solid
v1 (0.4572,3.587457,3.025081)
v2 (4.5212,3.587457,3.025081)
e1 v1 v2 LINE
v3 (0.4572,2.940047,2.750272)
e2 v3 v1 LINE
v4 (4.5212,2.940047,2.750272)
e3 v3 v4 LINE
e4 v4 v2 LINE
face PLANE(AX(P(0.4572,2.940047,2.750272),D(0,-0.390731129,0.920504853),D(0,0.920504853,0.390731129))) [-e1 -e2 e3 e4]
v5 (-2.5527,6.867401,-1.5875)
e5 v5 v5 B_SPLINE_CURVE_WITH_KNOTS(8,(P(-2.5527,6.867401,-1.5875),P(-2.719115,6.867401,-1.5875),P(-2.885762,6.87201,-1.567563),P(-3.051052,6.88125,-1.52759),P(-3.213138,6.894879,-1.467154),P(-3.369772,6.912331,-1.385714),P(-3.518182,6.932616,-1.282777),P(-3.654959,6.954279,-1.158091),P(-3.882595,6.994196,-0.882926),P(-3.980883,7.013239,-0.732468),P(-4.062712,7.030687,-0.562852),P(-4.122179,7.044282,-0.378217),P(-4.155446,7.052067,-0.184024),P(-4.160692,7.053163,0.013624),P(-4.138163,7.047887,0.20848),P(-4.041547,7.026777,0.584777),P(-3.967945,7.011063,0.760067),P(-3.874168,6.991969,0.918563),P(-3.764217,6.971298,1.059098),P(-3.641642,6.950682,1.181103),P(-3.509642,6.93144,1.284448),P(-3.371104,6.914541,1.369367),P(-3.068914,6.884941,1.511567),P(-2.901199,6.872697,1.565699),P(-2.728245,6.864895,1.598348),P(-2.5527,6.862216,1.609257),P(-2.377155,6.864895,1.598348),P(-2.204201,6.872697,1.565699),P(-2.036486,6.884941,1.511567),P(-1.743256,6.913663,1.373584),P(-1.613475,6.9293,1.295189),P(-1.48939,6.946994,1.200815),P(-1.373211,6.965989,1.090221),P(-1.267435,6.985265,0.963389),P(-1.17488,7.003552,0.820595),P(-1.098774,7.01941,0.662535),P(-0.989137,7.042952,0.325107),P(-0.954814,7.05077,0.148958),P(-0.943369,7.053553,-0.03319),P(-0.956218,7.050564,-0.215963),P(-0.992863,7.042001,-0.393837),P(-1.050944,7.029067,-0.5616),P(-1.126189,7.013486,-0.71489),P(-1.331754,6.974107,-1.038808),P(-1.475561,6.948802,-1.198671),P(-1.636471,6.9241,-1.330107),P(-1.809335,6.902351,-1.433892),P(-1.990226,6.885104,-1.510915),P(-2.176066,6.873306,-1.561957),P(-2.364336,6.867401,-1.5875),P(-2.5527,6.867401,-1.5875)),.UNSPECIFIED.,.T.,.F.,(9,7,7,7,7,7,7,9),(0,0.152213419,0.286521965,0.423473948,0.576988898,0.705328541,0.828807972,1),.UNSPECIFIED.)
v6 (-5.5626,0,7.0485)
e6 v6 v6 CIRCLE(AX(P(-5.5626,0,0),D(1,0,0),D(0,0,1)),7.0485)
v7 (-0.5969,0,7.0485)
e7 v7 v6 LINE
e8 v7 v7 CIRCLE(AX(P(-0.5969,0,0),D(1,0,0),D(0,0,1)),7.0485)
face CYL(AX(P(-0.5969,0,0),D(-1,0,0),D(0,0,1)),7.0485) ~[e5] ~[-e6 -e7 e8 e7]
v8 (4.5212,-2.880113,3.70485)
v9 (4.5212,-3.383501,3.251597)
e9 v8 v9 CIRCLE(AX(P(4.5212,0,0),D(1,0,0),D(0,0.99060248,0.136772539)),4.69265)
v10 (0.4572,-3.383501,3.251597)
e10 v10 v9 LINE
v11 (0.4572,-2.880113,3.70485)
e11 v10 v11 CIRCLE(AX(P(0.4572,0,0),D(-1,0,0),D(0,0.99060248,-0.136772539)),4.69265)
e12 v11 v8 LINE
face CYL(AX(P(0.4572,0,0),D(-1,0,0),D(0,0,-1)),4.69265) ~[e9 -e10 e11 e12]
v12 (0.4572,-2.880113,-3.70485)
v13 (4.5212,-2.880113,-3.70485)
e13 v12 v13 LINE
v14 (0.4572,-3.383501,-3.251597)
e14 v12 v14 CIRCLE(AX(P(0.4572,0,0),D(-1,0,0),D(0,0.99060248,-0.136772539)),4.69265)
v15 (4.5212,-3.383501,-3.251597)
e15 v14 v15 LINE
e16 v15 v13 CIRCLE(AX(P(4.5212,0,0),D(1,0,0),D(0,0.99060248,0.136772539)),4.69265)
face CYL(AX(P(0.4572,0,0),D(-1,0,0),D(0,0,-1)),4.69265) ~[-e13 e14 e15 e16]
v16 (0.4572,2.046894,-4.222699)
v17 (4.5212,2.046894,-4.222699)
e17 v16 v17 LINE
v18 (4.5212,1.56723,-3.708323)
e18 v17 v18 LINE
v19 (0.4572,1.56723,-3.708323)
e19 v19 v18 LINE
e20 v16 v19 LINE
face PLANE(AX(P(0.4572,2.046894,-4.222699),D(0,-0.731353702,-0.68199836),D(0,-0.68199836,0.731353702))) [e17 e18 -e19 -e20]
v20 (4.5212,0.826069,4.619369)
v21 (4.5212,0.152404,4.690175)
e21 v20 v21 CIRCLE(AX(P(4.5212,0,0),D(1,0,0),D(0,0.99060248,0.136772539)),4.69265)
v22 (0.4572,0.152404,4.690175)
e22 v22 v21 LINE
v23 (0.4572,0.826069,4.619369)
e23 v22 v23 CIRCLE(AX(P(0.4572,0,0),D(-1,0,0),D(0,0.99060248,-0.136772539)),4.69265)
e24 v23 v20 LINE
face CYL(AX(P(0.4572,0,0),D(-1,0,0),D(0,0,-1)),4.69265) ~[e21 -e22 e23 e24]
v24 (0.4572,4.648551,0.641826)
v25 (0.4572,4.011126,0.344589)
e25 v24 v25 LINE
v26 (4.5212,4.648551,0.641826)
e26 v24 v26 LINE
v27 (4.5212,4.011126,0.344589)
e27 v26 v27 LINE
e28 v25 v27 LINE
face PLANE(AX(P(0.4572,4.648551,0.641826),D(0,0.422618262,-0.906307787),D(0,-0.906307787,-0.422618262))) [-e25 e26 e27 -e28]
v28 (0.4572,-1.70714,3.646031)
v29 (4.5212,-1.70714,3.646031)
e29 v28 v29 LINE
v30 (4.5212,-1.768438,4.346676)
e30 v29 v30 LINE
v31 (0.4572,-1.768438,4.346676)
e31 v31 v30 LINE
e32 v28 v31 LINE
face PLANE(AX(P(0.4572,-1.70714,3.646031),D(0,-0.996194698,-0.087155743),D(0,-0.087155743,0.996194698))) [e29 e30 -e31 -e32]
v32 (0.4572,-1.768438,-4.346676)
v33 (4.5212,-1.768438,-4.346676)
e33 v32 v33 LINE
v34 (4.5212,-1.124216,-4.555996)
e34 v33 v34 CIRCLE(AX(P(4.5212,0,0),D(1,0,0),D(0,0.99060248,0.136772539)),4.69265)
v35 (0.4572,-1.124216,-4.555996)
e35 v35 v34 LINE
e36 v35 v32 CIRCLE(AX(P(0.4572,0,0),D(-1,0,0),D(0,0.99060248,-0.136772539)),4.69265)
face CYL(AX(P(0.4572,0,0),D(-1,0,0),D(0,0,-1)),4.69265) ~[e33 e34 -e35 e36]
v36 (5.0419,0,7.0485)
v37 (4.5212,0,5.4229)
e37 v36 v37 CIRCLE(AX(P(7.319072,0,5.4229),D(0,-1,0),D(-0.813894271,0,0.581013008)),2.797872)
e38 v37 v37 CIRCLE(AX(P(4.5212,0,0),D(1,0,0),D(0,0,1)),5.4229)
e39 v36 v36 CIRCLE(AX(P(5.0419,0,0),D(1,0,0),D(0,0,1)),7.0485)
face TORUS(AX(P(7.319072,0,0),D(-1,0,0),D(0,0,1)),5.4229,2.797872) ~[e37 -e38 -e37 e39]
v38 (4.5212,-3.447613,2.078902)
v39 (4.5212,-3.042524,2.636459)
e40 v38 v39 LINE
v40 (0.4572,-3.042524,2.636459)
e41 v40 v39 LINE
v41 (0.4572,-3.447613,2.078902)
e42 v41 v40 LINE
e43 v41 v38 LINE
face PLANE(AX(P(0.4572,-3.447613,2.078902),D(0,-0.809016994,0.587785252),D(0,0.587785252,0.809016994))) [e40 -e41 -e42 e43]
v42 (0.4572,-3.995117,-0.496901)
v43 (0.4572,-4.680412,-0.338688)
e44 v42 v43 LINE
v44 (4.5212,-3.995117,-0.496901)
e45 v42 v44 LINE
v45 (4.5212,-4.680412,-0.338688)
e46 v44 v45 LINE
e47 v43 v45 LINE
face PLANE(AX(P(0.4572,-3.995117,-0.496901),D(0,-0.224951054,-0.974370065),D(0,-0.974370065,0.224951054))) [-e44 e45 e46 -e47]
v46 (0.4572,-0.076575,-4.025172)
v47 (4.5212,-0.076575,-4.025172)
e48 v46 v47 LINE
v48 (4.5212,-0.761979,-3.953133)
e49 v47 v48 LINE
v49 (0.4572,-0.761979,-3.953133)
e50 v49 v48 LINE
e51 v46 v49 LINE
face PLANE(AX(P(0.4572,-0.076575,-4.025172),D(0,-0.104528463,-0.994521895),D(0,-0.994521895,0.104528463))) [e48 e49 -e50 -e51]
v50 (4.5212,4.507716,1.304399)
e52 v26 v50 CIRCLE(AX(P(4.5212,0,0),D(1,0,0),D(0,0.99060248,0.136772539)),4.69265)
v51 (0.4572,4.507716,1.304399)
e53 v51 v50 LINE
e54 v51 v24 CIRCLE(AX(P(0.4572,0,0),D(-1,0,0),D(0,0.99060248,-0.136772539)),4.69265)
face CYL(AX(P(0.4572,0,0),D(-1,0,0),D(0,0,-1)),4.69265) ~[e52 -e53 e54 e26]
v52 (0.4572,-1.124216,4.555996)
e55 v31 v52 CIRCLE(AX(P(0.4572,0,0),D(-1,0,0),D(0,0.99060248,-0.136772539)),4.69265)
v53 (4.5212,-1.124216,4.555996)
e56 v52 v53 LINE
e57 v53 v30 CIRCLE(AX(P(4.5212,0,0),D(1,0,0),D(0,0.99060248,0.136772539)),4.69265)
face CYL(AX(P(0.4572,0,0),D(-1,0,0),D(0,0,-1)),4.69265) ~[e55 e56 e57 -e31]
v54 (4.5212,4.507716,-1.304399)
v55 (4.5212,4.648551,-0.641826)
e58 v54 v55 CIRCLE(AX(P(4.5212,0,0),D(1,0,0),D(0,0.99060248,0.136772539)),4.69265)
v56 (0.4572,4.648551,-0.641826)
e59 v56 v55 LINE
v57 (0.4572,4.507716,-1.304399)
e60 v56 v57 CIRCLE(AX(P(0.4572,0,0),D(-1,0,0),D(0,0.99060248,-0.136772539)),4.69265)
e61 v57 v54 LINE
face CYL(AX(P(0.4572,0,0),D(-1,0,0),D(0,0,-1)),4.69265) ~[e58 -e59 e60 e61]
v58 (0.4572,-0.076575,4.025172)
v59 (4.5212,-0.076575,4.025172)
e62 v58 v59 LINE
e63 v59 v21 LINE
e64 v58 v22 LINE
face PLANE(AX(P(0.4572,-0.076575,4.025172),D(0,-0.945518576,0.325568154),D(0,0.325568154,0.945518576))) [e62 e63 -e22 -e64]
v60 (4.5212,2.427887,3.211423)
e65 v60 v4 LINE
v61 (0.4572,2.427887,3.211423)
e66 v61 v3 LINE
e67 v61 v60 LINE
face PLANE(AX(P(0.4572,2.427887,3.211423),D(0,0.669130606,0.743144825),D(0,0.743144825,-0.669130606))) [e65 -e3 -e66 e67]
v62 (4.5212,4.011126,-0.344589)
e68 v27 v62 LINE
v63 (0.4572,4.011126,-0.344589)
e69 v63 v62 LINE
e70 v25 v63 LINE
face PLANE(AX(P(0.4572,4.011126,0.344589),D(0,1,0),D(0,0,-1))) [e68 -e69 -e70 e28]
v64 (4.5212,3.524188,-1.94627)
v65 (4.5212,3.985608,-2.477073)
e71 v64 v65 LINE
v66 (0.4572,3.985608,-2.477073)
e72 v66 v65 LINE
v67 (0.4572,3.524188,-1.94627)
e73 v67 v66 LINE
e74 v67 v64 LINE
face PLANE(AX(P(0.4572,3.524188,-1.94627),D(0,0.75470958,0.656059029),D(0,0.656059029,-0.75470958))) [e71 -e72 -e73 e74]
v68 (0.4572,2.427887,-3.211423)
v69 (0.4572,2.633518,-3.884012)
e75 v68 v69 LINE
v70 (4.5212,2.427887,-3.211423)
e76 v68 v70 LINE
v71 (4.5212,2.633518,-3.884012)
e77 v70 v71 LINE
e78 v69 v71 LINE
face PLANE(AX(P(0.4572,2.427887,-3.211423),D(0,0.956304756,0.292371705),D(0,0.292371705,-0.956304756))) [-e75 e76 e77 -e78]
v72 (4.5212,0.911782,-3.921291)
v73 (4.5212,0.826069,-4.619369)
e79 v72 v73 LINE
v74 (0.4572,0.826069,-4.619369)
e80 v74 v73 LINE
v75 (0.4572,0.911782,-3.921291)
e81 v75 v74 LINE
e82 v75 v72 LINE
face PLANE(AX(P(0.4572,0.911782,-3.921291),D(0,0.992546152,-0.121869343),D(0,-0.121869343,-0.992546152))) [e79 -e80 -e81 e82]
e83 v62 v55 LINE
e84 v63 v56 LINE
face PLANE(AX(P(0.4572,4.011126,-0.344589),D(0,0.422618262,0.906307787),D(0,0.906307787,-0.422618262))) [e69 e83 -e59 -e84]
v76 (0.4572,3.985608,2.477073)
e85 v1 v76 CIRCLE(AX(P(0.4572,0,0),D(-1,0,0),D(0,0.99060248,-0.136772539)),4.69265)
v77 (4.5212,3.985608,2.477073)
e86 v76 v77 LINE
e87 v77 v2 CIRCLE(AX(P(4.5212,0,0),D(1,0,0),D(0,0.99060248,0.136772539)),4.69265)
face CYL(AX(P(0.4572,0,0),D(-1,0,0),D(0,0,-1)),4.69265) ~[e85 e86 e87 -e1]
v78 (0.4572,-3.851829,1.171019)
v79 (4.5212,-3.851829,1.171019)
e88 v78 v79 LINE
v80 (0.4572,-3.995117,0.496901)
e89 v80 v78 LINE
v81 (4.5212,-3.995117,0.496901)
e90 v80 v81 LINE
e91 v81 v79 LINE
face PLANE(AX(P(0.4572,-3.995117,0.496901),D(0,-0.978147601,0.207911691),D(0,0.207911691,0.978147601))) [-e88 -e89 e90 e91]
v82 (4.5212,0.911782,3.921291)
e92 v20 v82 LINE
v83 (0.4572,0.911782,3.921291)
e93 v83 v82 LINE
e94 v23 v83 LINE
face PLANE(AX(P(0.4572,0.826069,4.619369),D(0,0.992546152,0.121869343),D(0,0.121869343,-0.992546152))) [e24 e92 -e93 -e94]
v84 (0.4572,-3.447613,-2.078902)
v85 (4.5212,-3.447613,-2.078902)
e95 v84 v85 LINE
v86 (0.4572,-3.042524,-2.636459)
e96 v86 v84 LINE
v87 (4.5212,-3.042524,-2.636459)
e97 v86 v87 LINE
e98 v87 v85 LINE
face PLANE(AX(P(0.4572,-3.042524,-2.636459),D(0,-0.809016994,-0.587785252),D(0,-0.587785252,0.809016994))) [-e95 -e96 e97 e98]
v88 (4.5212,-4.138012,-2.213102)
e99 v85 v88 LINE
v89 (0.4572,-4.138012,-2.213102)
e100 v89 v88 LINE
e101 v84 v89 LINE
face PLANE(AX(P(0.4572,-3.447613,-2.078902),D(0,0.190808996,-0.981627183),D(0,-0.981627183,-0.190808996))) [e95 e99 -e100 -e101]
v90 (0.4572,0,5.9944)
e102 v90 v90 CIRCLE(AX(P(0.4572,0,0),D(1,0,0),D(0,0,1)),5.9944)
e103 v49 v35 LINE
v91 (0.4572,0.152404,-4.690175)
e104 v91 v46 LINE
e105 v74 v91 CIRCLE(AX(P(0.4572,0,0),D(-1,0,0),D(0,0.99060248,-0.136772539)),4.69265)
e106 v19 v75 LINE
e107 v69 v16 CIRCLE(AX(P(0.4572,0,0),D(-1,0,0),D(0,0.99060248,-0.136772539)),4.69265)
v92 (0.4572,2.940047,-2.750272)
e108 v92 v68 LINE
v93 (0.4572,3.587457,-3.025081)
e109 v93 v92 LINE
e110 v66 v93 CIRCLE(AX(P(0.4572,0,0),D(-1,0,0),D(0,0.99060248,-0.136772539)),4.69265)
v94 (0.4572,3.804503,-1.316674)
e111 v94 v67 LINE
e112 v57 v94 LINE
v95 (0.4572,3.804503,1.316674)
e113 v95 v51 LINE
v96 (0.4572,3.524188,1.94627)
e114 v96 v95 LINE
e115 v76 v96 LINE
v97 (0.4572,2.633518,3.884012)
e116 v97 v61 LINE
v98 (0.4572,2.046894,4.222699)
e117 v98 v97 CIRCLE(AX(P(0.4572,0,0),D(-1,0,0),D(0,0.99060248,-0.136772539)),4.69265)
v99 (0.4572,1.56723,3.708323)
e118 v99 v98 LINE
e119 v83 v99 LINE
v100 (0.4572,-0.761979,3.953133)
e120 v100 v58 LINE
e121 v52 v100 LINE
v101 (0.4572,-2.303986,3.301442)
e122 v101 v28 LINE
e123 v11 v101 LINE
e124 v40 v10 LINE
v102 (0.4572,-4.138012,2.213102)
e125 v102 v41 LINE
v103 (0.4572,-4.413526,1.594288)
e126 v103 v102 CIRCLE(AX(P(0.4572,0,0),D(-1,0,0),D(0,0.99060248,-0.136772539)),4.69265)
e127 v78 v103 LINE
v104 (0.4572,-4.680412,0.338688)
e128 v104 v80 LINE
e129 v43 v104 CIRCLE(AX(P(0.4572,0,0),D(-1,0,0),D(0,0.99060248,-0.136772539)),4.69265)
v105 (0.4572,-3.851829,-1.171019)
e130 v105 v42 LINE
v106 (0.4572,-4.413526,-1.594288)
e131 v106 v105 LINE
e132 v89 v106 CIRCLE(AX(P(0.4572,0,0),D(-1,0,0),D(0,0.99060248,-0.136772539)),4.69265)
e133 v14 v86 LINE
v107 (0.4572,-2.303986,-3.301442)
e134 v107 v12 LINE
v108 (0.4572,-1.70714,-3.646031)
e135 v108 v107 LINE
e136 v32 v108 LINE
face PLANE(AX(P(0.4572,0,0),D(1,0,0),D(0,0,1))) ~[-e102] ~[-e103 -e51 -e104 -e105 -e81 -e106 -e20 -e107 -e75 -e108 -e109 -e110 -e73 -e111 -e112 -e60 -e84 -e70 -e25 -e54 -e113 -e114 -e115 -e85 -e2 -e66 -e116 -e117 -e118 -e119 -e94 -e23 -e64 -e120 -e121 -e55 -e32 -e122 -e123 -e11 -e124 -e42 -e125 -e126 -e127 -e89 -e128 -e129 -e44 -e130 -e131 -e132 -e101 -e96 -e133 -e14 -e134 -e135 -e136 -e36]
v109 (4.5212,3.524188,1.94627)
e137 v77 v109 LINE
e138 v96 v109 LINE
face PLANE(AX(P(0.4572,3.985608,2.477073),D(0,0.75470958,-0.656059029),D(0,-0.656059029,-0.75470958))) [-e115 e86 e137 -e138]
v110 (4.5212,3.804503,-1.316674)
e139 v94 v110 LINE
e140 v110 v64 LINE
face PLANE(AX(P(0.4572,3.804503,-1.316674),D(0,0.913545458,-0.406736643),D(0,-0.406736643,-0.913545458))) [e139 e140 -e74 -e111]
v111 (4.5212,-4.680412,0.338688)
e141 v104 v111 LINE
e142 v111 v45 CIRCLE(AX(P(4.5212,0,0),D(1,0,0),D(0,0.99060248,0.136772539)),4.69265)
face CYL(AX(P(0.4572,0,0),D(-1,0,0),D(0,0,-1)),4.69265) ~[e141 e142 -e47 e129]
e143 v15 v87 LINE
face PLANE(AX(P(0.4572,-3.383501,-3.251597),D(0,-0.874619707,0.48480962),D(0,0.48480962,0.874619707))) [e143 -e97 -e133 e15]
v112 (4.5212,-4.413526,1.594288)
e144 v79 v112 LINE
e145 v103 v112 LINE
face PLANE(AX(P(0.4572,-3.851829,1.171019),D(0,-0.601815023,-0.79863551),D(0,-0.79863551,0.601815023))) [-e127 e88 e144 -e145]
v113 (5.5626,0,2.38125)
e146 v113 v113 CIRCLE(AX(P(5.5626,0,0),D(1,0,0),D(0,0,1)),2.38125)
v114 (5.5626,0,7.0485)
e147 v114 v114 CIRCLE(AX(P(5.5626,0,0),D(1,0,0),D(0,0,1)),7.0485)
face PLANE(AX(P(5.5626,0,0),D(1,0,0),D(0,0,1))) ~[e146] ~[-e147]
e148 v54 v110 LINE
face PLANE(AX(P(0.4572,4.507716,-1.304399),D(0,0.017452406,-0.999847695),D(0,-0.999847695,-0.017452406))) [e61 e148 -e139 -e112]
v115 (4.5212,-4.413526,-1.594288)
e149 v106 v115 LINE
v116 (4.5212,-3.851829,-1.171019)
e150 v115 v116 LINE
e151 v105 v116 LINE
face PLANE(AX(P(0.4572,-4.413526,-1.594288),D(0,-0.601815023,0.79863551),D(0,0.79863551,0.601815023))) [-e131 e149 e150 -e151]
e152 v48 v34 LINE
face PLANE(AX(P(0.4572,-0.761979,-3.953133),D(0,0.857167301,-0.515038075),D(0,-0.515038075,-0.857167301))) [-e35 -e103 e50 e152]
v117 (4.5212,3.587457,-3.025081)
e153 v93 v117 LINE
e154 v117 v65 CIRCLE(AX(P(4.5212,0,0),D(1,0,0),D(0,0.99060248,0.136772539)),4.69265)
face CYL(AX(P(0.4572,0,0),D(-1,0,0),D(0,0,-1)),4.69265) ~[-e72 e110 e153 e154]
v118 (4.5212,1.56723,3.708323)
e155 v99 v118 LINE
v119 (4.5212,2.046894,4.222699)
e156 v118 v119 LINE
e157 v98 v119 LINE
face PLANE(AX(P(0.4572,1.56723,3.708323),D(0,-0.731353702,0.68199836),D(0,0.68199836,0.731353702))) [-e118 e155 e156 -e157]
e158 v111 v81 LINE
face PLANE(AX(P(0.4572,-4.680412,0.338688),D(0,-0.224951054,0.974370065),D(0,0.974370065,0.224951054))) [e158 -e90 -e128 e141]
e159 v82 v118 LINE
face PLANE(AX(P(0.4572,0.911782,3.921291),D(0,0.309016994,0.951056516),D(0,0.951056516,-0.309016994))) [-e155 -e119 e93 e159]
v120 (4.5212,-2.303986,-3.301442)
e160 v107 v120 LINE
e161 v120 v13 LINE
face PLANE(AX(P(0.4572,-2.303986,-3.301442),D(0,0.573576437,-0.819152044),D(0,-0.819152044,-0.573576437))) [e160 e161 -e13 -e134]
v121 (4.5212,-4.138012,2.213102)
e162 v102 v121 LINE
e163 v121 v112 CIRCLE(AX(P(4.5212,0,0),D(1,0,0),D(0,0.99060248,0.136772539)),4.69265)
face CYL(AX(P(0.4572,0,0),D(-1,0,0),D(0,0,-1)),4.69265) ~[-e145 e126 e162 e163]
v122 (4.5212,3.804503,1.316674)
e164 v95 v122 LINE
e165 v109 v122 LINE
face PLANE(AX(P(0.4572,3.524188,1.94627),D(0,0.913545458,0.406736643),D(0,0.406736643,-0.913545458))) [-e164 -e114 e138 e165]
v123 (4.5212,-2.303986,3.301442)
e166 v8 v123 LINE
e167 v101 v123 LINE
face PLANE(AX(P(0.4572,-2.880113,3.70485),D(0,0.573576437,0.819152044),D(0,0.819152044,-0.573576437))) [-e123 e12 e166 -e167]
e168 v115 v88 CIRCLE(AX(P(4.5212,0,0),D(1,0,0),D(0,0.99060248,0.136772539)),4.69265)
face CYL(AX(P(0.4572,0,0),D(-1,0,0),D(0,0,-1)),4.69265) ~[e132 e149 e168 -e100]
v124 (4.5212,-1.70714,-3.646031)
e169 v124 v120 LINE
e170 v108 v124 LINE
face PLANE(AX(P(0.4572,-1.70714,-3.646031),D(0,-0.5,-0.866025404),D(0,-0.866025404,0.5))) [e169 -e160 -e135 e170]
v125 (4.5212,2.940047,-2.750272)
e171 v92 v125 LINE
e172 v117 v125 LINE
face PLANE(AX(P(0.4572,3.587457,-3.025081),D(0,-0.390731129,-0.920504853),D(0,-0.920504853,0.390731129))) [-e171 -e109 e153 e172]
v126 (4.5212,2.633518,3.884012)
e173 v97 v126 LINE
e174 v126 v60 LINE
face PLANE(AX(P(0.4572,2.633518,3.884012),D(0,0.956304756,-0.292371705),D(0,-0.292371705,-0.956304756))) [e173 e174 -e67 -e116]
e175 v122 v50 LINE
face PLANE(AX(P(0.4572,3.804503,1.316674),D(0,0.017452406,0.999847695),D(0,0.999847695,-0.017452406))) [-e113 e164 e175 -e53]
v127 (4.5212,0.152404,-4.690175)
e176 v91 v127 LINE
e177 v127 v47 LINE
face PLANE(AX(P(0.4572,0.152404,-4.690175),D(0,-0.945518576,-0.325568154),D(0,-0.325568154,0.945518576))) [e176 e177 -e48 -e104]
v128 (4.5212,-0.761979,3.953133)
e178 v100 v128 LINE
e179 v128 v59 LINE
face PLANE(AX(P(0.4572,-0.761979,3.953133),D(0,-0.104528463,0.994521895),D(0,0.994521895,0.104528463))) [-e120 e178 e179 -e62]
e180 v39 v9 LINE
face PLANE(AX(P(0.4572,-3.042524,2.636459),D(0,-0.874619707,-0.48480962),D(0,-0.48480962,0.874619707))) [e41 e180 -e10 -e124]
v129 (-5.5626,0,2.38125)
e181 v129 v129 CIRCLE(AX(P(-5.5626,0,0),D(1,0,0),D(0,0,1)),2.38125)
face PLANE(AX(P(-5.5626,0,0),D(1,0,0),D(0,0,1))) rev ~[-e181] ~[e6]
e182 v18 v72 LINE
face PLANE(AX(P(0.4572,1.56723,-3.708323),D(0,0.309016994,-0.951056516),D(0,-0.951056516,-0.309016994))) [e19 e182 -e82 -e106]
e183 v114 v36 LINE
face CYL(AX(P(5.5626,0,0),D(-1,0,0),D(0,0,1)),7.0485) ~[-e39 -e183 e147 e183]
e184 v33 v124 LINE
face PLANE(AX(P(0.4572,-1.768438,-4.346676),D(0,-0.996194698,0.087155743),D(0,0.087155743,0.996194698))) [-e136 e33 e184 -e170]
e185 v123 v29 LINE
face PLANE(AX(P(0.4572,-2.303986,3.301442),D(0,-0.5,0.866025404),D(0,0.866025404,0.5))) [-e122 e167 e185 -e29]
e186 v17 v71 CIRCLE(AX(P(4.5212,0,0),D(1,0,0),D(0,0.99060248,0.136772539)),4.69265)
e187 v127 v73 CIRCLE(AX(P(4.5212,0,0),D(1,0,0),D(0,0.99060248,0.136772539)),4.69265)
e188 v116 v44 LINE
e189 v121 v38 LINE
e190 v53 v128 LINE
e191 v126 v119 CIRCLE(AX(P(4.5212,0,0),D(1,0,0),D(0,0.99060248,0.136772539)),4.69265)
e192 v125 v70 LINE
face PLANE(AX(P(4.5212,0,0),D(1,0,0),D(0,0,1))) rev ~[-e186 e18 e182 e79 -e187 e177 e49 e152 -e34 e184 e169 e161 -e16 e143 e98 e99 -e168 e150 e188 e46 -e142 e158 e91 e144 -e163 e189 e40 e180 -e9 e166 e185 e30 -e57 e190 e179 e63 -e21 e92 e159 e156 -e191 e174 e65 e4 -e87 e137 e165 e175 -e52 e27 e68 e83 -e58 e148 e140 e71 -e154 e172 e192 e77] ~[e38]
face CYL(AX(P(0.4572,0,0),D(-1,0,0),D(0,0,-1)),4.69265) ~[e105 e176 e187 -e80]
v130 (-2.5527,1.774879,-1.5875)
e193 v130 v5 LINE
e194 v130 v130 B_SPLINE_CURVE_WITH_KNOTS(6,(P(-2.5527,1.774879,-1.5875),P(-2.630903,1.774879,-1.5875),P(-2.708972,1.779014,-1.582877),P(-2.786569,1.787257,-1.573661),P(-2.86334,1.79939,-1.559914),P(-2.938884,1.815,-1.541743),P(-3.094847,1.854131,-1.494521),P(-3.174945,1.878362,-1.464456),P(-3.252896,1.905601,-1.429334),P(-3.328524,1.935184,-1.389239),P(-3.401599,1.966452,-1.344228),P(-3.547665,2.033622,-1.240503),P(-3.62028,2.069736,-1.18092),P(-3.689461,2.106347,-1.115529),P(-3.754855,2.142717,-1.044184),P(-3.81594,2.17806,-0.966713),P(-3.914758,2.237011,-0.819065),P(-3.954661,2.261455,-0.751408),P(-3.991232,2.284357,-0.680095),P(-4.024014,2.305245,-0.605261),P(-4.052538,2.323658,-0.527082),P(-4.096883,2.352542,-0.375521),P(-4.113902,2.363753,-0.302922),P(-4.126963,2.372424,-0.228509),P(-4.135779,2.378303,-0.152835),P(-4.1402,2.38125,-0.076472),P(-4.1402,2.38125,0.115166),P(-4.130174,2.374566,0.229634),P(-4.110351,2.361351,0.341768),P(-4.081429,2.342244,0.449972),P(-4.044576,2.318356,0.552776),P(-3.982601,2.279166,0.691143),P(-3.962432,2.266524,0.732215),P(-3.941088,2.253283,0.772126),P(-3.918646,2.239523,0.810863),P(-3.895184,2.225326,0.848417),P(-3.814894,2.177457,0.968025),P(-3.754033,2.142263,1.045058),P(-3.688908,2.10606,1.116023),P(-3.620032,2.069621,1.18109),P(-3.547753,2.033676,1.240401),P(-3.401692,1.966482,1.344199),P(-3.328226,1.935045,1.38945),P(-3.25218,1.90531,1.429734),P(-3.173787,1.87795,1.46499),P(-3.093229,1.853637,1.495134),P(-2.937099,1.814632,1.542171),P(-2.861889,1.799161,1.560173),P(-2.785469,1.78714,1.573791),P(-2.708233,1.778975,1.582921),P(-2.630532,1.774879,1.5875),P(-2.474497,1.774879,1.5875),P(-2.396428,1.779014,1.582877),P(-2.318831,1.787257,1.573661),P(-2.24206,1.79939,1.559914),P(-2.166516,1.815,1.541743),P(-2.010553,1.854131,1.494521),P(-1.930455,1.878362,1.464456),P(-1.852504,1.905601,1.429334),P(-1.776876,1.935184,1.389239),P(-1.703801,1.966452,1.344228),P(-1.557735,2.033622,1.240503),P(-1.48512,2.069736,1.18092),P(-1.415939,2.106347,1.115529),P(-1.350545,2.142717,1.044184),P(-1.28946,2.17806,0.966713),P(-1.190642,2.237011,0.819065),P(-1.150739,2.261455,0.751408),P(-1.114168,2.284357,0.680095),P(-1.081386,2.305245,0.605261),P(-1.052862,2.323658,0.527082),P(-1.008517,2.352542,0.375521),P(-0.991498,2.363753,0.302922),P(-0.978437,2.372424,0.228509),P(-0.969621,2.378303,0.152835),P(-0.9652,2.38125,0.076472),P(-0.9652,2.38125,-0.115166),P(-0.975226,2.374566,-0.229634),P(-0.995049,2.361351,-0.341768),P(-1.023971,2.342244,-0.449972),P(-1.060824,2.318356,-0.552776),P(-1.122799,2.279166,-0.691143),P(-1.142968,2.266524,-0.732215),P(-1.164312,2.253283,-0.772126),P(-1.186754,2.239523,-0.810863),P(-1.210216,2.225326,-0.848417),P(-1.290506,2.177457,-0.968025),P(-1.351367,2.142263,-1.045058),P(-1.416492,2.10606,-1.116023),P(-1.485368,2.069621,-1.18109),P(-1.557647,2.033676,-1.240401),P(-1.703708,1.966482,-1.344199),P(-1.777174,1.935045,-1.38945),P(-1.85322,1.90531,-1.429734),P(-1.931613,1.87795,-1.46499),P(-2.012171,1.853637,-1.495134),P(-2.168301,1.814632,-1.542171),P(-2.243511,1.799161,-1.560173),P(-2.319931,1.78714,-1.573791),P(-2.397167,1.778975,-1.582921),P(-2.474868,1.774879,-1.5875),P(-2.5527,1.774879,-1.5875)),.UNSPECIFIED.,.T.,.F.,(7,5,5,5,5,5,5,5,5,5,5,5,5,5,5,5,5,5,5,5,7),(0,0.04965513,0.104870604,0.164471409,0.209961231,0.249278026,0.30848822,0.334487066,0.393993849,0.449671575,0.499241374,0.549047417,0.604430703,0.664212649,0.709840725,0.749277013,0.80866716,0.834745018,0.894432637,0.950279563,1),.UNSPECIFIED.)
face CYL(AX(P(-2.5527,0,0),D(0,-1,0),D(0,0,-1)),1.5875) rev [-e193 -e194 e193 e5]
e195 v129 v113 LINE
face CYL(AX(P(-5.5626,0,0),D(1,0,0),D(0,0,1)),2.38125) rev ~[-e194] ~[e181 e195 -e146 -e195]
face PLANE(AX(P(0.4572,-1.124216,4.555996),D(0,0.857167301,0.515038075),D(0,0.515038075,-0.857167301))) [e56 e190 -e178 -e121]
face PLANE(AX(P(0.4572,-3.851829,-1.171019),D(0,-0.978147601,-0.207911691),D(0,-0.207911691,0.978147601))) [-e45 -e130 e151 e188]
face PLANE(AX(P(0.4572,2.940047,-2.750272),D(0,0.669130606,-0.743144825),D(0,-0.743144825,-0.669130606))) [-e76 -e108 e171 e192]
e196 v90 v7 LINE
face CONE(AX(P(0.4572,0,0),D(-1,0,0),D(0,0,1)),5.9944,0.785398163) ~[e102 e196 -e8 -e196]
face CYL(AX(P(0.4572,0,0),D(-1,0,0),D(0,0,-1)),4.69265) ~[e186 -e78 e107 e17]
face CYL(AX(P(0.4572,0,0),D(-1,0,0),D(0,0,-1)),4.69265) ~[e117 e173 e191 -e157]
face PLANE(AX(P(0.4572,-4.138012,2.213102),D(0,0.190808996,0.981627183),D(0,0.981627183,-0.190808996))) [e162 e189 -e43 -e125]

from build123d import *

# Parameters (mm, degrees)
SKETCH4_R          = 4.8514
SKETCH4_R_2        = 4.69265
CUT_EXTRUDE2_DEPTH = 4.064
CUT_EXTRUDE1_DEPTH = 4.064
CIRPATTERN1_COUNT  = 15
SKETCH6_R          = 1.5875
CUT_EXTRUDE3_DEPTH = 12.415131329


with BuildPart() as part:
    # Sketch1 → Revolve1 (revolve)
    with BuildSketch(Plane.XY, mode=Mode.PRIVATE) as revolve1_sk:
        with BuildLine():
            Line((-5.5626, 2.38125), (5.5626, 2.38125))
            Line((5.5626, 2.38125), (5.5626, 7.0485))
            Line((5.5626, 7.0485), (5.0419, 7.0485))
            ThreePointArc((5.0419, 7.0485), (4.654552953, 6.276378742), (4.5212, 5.4229))
            Line((4.5212, 5.4229), (4.5212, 4.8514))
            Line((4.5212, 4.8514), (0.4572, 4.8514))
            Line((0.4572, 4.8514), (0.4572, 5.9944))
            Line((0.4572, 5.9944), (-0.5969, 7.0485))
            Line((-0.5969, 7.0485), (-5.5626, 7.0485))
            Line((-5.5626, 7.0485), (-5.5626, 2.38125))
        make_face()
    revolve(revolve1_sk.sketch.rotate(Axis((-5.5626, 0, 0), (1, 0, 0)), 90), axis=Axis((-5.5626, 0, 0), (1, 0, 0)))

    # Sketch4 → Cut-Extrude2 (cut)
    with BuildSketch(Plane(origin=(0.4572, 0, 0), x_dir=(0, 0, -1), z_dir=(1, 0, 0))):
        Circle(SKETCH4_R)
        Circle(SKETCH4_R_2, mode=Mode.SUBTRACT)
    extrude(amount=CUT_EXTRUDE2_DEPTH, mode=Mode.SUBTRACT)

    # Sketch3 → Cut-Extrude1 (cut)
    with BuildSketch(Plane(origin=(0.4572, 0, 0), x_dir=(0, 0, -1), z_dir=(1, 0, 0))):
        with BuildLine():
            Line((-0.641825655, 4.648550726), (-0.344589457, 4.011125642))
            Line((-0.344589457, 4.011125642), (0.344589457, 4.011125642))
            Line((0.344589457, 4.011125642), (0.641825655, 4.648550726))
            ThreePointArc((0.641825655, 4.648550726), (0, 4.69265), (-0.641825655, 4.648550726))
        make_face()
    cut_extrude1 = extrude(amount=CUT_EXTRUDE1_DEPTH, mode=Mode.SUBTRACT)

    # CirPattern1: Cut-Extrude1 ×15 about axis
    cirpattern1_axis = Axis((0, 0, 0), (1, 0, 0))
    for i in range(1, CIRPATTERN1_COUNT):
        add(cut_extrude1.rotate(cirpattern1_axis, i * 360 / CIRPATTERN1_COUNT), mode=Mode.SUBTRACT)

    # Sketch6 → Cut-Extrude3 (cut, through all)
    with BuildSketch(Plane(origin=(0, 0, 0), x_dir=(1, 0, 0), z_dir=(0, 1, 0))):
        with Locations(Location((-2.5527, 0, 0), (0, 0, 90))):
            Circle(SKETCH6_R)
    extrude(amount=CUT_EXTRUDE3_DEPTH, mode=Mode.SUBTRACT)


solid = part.part
